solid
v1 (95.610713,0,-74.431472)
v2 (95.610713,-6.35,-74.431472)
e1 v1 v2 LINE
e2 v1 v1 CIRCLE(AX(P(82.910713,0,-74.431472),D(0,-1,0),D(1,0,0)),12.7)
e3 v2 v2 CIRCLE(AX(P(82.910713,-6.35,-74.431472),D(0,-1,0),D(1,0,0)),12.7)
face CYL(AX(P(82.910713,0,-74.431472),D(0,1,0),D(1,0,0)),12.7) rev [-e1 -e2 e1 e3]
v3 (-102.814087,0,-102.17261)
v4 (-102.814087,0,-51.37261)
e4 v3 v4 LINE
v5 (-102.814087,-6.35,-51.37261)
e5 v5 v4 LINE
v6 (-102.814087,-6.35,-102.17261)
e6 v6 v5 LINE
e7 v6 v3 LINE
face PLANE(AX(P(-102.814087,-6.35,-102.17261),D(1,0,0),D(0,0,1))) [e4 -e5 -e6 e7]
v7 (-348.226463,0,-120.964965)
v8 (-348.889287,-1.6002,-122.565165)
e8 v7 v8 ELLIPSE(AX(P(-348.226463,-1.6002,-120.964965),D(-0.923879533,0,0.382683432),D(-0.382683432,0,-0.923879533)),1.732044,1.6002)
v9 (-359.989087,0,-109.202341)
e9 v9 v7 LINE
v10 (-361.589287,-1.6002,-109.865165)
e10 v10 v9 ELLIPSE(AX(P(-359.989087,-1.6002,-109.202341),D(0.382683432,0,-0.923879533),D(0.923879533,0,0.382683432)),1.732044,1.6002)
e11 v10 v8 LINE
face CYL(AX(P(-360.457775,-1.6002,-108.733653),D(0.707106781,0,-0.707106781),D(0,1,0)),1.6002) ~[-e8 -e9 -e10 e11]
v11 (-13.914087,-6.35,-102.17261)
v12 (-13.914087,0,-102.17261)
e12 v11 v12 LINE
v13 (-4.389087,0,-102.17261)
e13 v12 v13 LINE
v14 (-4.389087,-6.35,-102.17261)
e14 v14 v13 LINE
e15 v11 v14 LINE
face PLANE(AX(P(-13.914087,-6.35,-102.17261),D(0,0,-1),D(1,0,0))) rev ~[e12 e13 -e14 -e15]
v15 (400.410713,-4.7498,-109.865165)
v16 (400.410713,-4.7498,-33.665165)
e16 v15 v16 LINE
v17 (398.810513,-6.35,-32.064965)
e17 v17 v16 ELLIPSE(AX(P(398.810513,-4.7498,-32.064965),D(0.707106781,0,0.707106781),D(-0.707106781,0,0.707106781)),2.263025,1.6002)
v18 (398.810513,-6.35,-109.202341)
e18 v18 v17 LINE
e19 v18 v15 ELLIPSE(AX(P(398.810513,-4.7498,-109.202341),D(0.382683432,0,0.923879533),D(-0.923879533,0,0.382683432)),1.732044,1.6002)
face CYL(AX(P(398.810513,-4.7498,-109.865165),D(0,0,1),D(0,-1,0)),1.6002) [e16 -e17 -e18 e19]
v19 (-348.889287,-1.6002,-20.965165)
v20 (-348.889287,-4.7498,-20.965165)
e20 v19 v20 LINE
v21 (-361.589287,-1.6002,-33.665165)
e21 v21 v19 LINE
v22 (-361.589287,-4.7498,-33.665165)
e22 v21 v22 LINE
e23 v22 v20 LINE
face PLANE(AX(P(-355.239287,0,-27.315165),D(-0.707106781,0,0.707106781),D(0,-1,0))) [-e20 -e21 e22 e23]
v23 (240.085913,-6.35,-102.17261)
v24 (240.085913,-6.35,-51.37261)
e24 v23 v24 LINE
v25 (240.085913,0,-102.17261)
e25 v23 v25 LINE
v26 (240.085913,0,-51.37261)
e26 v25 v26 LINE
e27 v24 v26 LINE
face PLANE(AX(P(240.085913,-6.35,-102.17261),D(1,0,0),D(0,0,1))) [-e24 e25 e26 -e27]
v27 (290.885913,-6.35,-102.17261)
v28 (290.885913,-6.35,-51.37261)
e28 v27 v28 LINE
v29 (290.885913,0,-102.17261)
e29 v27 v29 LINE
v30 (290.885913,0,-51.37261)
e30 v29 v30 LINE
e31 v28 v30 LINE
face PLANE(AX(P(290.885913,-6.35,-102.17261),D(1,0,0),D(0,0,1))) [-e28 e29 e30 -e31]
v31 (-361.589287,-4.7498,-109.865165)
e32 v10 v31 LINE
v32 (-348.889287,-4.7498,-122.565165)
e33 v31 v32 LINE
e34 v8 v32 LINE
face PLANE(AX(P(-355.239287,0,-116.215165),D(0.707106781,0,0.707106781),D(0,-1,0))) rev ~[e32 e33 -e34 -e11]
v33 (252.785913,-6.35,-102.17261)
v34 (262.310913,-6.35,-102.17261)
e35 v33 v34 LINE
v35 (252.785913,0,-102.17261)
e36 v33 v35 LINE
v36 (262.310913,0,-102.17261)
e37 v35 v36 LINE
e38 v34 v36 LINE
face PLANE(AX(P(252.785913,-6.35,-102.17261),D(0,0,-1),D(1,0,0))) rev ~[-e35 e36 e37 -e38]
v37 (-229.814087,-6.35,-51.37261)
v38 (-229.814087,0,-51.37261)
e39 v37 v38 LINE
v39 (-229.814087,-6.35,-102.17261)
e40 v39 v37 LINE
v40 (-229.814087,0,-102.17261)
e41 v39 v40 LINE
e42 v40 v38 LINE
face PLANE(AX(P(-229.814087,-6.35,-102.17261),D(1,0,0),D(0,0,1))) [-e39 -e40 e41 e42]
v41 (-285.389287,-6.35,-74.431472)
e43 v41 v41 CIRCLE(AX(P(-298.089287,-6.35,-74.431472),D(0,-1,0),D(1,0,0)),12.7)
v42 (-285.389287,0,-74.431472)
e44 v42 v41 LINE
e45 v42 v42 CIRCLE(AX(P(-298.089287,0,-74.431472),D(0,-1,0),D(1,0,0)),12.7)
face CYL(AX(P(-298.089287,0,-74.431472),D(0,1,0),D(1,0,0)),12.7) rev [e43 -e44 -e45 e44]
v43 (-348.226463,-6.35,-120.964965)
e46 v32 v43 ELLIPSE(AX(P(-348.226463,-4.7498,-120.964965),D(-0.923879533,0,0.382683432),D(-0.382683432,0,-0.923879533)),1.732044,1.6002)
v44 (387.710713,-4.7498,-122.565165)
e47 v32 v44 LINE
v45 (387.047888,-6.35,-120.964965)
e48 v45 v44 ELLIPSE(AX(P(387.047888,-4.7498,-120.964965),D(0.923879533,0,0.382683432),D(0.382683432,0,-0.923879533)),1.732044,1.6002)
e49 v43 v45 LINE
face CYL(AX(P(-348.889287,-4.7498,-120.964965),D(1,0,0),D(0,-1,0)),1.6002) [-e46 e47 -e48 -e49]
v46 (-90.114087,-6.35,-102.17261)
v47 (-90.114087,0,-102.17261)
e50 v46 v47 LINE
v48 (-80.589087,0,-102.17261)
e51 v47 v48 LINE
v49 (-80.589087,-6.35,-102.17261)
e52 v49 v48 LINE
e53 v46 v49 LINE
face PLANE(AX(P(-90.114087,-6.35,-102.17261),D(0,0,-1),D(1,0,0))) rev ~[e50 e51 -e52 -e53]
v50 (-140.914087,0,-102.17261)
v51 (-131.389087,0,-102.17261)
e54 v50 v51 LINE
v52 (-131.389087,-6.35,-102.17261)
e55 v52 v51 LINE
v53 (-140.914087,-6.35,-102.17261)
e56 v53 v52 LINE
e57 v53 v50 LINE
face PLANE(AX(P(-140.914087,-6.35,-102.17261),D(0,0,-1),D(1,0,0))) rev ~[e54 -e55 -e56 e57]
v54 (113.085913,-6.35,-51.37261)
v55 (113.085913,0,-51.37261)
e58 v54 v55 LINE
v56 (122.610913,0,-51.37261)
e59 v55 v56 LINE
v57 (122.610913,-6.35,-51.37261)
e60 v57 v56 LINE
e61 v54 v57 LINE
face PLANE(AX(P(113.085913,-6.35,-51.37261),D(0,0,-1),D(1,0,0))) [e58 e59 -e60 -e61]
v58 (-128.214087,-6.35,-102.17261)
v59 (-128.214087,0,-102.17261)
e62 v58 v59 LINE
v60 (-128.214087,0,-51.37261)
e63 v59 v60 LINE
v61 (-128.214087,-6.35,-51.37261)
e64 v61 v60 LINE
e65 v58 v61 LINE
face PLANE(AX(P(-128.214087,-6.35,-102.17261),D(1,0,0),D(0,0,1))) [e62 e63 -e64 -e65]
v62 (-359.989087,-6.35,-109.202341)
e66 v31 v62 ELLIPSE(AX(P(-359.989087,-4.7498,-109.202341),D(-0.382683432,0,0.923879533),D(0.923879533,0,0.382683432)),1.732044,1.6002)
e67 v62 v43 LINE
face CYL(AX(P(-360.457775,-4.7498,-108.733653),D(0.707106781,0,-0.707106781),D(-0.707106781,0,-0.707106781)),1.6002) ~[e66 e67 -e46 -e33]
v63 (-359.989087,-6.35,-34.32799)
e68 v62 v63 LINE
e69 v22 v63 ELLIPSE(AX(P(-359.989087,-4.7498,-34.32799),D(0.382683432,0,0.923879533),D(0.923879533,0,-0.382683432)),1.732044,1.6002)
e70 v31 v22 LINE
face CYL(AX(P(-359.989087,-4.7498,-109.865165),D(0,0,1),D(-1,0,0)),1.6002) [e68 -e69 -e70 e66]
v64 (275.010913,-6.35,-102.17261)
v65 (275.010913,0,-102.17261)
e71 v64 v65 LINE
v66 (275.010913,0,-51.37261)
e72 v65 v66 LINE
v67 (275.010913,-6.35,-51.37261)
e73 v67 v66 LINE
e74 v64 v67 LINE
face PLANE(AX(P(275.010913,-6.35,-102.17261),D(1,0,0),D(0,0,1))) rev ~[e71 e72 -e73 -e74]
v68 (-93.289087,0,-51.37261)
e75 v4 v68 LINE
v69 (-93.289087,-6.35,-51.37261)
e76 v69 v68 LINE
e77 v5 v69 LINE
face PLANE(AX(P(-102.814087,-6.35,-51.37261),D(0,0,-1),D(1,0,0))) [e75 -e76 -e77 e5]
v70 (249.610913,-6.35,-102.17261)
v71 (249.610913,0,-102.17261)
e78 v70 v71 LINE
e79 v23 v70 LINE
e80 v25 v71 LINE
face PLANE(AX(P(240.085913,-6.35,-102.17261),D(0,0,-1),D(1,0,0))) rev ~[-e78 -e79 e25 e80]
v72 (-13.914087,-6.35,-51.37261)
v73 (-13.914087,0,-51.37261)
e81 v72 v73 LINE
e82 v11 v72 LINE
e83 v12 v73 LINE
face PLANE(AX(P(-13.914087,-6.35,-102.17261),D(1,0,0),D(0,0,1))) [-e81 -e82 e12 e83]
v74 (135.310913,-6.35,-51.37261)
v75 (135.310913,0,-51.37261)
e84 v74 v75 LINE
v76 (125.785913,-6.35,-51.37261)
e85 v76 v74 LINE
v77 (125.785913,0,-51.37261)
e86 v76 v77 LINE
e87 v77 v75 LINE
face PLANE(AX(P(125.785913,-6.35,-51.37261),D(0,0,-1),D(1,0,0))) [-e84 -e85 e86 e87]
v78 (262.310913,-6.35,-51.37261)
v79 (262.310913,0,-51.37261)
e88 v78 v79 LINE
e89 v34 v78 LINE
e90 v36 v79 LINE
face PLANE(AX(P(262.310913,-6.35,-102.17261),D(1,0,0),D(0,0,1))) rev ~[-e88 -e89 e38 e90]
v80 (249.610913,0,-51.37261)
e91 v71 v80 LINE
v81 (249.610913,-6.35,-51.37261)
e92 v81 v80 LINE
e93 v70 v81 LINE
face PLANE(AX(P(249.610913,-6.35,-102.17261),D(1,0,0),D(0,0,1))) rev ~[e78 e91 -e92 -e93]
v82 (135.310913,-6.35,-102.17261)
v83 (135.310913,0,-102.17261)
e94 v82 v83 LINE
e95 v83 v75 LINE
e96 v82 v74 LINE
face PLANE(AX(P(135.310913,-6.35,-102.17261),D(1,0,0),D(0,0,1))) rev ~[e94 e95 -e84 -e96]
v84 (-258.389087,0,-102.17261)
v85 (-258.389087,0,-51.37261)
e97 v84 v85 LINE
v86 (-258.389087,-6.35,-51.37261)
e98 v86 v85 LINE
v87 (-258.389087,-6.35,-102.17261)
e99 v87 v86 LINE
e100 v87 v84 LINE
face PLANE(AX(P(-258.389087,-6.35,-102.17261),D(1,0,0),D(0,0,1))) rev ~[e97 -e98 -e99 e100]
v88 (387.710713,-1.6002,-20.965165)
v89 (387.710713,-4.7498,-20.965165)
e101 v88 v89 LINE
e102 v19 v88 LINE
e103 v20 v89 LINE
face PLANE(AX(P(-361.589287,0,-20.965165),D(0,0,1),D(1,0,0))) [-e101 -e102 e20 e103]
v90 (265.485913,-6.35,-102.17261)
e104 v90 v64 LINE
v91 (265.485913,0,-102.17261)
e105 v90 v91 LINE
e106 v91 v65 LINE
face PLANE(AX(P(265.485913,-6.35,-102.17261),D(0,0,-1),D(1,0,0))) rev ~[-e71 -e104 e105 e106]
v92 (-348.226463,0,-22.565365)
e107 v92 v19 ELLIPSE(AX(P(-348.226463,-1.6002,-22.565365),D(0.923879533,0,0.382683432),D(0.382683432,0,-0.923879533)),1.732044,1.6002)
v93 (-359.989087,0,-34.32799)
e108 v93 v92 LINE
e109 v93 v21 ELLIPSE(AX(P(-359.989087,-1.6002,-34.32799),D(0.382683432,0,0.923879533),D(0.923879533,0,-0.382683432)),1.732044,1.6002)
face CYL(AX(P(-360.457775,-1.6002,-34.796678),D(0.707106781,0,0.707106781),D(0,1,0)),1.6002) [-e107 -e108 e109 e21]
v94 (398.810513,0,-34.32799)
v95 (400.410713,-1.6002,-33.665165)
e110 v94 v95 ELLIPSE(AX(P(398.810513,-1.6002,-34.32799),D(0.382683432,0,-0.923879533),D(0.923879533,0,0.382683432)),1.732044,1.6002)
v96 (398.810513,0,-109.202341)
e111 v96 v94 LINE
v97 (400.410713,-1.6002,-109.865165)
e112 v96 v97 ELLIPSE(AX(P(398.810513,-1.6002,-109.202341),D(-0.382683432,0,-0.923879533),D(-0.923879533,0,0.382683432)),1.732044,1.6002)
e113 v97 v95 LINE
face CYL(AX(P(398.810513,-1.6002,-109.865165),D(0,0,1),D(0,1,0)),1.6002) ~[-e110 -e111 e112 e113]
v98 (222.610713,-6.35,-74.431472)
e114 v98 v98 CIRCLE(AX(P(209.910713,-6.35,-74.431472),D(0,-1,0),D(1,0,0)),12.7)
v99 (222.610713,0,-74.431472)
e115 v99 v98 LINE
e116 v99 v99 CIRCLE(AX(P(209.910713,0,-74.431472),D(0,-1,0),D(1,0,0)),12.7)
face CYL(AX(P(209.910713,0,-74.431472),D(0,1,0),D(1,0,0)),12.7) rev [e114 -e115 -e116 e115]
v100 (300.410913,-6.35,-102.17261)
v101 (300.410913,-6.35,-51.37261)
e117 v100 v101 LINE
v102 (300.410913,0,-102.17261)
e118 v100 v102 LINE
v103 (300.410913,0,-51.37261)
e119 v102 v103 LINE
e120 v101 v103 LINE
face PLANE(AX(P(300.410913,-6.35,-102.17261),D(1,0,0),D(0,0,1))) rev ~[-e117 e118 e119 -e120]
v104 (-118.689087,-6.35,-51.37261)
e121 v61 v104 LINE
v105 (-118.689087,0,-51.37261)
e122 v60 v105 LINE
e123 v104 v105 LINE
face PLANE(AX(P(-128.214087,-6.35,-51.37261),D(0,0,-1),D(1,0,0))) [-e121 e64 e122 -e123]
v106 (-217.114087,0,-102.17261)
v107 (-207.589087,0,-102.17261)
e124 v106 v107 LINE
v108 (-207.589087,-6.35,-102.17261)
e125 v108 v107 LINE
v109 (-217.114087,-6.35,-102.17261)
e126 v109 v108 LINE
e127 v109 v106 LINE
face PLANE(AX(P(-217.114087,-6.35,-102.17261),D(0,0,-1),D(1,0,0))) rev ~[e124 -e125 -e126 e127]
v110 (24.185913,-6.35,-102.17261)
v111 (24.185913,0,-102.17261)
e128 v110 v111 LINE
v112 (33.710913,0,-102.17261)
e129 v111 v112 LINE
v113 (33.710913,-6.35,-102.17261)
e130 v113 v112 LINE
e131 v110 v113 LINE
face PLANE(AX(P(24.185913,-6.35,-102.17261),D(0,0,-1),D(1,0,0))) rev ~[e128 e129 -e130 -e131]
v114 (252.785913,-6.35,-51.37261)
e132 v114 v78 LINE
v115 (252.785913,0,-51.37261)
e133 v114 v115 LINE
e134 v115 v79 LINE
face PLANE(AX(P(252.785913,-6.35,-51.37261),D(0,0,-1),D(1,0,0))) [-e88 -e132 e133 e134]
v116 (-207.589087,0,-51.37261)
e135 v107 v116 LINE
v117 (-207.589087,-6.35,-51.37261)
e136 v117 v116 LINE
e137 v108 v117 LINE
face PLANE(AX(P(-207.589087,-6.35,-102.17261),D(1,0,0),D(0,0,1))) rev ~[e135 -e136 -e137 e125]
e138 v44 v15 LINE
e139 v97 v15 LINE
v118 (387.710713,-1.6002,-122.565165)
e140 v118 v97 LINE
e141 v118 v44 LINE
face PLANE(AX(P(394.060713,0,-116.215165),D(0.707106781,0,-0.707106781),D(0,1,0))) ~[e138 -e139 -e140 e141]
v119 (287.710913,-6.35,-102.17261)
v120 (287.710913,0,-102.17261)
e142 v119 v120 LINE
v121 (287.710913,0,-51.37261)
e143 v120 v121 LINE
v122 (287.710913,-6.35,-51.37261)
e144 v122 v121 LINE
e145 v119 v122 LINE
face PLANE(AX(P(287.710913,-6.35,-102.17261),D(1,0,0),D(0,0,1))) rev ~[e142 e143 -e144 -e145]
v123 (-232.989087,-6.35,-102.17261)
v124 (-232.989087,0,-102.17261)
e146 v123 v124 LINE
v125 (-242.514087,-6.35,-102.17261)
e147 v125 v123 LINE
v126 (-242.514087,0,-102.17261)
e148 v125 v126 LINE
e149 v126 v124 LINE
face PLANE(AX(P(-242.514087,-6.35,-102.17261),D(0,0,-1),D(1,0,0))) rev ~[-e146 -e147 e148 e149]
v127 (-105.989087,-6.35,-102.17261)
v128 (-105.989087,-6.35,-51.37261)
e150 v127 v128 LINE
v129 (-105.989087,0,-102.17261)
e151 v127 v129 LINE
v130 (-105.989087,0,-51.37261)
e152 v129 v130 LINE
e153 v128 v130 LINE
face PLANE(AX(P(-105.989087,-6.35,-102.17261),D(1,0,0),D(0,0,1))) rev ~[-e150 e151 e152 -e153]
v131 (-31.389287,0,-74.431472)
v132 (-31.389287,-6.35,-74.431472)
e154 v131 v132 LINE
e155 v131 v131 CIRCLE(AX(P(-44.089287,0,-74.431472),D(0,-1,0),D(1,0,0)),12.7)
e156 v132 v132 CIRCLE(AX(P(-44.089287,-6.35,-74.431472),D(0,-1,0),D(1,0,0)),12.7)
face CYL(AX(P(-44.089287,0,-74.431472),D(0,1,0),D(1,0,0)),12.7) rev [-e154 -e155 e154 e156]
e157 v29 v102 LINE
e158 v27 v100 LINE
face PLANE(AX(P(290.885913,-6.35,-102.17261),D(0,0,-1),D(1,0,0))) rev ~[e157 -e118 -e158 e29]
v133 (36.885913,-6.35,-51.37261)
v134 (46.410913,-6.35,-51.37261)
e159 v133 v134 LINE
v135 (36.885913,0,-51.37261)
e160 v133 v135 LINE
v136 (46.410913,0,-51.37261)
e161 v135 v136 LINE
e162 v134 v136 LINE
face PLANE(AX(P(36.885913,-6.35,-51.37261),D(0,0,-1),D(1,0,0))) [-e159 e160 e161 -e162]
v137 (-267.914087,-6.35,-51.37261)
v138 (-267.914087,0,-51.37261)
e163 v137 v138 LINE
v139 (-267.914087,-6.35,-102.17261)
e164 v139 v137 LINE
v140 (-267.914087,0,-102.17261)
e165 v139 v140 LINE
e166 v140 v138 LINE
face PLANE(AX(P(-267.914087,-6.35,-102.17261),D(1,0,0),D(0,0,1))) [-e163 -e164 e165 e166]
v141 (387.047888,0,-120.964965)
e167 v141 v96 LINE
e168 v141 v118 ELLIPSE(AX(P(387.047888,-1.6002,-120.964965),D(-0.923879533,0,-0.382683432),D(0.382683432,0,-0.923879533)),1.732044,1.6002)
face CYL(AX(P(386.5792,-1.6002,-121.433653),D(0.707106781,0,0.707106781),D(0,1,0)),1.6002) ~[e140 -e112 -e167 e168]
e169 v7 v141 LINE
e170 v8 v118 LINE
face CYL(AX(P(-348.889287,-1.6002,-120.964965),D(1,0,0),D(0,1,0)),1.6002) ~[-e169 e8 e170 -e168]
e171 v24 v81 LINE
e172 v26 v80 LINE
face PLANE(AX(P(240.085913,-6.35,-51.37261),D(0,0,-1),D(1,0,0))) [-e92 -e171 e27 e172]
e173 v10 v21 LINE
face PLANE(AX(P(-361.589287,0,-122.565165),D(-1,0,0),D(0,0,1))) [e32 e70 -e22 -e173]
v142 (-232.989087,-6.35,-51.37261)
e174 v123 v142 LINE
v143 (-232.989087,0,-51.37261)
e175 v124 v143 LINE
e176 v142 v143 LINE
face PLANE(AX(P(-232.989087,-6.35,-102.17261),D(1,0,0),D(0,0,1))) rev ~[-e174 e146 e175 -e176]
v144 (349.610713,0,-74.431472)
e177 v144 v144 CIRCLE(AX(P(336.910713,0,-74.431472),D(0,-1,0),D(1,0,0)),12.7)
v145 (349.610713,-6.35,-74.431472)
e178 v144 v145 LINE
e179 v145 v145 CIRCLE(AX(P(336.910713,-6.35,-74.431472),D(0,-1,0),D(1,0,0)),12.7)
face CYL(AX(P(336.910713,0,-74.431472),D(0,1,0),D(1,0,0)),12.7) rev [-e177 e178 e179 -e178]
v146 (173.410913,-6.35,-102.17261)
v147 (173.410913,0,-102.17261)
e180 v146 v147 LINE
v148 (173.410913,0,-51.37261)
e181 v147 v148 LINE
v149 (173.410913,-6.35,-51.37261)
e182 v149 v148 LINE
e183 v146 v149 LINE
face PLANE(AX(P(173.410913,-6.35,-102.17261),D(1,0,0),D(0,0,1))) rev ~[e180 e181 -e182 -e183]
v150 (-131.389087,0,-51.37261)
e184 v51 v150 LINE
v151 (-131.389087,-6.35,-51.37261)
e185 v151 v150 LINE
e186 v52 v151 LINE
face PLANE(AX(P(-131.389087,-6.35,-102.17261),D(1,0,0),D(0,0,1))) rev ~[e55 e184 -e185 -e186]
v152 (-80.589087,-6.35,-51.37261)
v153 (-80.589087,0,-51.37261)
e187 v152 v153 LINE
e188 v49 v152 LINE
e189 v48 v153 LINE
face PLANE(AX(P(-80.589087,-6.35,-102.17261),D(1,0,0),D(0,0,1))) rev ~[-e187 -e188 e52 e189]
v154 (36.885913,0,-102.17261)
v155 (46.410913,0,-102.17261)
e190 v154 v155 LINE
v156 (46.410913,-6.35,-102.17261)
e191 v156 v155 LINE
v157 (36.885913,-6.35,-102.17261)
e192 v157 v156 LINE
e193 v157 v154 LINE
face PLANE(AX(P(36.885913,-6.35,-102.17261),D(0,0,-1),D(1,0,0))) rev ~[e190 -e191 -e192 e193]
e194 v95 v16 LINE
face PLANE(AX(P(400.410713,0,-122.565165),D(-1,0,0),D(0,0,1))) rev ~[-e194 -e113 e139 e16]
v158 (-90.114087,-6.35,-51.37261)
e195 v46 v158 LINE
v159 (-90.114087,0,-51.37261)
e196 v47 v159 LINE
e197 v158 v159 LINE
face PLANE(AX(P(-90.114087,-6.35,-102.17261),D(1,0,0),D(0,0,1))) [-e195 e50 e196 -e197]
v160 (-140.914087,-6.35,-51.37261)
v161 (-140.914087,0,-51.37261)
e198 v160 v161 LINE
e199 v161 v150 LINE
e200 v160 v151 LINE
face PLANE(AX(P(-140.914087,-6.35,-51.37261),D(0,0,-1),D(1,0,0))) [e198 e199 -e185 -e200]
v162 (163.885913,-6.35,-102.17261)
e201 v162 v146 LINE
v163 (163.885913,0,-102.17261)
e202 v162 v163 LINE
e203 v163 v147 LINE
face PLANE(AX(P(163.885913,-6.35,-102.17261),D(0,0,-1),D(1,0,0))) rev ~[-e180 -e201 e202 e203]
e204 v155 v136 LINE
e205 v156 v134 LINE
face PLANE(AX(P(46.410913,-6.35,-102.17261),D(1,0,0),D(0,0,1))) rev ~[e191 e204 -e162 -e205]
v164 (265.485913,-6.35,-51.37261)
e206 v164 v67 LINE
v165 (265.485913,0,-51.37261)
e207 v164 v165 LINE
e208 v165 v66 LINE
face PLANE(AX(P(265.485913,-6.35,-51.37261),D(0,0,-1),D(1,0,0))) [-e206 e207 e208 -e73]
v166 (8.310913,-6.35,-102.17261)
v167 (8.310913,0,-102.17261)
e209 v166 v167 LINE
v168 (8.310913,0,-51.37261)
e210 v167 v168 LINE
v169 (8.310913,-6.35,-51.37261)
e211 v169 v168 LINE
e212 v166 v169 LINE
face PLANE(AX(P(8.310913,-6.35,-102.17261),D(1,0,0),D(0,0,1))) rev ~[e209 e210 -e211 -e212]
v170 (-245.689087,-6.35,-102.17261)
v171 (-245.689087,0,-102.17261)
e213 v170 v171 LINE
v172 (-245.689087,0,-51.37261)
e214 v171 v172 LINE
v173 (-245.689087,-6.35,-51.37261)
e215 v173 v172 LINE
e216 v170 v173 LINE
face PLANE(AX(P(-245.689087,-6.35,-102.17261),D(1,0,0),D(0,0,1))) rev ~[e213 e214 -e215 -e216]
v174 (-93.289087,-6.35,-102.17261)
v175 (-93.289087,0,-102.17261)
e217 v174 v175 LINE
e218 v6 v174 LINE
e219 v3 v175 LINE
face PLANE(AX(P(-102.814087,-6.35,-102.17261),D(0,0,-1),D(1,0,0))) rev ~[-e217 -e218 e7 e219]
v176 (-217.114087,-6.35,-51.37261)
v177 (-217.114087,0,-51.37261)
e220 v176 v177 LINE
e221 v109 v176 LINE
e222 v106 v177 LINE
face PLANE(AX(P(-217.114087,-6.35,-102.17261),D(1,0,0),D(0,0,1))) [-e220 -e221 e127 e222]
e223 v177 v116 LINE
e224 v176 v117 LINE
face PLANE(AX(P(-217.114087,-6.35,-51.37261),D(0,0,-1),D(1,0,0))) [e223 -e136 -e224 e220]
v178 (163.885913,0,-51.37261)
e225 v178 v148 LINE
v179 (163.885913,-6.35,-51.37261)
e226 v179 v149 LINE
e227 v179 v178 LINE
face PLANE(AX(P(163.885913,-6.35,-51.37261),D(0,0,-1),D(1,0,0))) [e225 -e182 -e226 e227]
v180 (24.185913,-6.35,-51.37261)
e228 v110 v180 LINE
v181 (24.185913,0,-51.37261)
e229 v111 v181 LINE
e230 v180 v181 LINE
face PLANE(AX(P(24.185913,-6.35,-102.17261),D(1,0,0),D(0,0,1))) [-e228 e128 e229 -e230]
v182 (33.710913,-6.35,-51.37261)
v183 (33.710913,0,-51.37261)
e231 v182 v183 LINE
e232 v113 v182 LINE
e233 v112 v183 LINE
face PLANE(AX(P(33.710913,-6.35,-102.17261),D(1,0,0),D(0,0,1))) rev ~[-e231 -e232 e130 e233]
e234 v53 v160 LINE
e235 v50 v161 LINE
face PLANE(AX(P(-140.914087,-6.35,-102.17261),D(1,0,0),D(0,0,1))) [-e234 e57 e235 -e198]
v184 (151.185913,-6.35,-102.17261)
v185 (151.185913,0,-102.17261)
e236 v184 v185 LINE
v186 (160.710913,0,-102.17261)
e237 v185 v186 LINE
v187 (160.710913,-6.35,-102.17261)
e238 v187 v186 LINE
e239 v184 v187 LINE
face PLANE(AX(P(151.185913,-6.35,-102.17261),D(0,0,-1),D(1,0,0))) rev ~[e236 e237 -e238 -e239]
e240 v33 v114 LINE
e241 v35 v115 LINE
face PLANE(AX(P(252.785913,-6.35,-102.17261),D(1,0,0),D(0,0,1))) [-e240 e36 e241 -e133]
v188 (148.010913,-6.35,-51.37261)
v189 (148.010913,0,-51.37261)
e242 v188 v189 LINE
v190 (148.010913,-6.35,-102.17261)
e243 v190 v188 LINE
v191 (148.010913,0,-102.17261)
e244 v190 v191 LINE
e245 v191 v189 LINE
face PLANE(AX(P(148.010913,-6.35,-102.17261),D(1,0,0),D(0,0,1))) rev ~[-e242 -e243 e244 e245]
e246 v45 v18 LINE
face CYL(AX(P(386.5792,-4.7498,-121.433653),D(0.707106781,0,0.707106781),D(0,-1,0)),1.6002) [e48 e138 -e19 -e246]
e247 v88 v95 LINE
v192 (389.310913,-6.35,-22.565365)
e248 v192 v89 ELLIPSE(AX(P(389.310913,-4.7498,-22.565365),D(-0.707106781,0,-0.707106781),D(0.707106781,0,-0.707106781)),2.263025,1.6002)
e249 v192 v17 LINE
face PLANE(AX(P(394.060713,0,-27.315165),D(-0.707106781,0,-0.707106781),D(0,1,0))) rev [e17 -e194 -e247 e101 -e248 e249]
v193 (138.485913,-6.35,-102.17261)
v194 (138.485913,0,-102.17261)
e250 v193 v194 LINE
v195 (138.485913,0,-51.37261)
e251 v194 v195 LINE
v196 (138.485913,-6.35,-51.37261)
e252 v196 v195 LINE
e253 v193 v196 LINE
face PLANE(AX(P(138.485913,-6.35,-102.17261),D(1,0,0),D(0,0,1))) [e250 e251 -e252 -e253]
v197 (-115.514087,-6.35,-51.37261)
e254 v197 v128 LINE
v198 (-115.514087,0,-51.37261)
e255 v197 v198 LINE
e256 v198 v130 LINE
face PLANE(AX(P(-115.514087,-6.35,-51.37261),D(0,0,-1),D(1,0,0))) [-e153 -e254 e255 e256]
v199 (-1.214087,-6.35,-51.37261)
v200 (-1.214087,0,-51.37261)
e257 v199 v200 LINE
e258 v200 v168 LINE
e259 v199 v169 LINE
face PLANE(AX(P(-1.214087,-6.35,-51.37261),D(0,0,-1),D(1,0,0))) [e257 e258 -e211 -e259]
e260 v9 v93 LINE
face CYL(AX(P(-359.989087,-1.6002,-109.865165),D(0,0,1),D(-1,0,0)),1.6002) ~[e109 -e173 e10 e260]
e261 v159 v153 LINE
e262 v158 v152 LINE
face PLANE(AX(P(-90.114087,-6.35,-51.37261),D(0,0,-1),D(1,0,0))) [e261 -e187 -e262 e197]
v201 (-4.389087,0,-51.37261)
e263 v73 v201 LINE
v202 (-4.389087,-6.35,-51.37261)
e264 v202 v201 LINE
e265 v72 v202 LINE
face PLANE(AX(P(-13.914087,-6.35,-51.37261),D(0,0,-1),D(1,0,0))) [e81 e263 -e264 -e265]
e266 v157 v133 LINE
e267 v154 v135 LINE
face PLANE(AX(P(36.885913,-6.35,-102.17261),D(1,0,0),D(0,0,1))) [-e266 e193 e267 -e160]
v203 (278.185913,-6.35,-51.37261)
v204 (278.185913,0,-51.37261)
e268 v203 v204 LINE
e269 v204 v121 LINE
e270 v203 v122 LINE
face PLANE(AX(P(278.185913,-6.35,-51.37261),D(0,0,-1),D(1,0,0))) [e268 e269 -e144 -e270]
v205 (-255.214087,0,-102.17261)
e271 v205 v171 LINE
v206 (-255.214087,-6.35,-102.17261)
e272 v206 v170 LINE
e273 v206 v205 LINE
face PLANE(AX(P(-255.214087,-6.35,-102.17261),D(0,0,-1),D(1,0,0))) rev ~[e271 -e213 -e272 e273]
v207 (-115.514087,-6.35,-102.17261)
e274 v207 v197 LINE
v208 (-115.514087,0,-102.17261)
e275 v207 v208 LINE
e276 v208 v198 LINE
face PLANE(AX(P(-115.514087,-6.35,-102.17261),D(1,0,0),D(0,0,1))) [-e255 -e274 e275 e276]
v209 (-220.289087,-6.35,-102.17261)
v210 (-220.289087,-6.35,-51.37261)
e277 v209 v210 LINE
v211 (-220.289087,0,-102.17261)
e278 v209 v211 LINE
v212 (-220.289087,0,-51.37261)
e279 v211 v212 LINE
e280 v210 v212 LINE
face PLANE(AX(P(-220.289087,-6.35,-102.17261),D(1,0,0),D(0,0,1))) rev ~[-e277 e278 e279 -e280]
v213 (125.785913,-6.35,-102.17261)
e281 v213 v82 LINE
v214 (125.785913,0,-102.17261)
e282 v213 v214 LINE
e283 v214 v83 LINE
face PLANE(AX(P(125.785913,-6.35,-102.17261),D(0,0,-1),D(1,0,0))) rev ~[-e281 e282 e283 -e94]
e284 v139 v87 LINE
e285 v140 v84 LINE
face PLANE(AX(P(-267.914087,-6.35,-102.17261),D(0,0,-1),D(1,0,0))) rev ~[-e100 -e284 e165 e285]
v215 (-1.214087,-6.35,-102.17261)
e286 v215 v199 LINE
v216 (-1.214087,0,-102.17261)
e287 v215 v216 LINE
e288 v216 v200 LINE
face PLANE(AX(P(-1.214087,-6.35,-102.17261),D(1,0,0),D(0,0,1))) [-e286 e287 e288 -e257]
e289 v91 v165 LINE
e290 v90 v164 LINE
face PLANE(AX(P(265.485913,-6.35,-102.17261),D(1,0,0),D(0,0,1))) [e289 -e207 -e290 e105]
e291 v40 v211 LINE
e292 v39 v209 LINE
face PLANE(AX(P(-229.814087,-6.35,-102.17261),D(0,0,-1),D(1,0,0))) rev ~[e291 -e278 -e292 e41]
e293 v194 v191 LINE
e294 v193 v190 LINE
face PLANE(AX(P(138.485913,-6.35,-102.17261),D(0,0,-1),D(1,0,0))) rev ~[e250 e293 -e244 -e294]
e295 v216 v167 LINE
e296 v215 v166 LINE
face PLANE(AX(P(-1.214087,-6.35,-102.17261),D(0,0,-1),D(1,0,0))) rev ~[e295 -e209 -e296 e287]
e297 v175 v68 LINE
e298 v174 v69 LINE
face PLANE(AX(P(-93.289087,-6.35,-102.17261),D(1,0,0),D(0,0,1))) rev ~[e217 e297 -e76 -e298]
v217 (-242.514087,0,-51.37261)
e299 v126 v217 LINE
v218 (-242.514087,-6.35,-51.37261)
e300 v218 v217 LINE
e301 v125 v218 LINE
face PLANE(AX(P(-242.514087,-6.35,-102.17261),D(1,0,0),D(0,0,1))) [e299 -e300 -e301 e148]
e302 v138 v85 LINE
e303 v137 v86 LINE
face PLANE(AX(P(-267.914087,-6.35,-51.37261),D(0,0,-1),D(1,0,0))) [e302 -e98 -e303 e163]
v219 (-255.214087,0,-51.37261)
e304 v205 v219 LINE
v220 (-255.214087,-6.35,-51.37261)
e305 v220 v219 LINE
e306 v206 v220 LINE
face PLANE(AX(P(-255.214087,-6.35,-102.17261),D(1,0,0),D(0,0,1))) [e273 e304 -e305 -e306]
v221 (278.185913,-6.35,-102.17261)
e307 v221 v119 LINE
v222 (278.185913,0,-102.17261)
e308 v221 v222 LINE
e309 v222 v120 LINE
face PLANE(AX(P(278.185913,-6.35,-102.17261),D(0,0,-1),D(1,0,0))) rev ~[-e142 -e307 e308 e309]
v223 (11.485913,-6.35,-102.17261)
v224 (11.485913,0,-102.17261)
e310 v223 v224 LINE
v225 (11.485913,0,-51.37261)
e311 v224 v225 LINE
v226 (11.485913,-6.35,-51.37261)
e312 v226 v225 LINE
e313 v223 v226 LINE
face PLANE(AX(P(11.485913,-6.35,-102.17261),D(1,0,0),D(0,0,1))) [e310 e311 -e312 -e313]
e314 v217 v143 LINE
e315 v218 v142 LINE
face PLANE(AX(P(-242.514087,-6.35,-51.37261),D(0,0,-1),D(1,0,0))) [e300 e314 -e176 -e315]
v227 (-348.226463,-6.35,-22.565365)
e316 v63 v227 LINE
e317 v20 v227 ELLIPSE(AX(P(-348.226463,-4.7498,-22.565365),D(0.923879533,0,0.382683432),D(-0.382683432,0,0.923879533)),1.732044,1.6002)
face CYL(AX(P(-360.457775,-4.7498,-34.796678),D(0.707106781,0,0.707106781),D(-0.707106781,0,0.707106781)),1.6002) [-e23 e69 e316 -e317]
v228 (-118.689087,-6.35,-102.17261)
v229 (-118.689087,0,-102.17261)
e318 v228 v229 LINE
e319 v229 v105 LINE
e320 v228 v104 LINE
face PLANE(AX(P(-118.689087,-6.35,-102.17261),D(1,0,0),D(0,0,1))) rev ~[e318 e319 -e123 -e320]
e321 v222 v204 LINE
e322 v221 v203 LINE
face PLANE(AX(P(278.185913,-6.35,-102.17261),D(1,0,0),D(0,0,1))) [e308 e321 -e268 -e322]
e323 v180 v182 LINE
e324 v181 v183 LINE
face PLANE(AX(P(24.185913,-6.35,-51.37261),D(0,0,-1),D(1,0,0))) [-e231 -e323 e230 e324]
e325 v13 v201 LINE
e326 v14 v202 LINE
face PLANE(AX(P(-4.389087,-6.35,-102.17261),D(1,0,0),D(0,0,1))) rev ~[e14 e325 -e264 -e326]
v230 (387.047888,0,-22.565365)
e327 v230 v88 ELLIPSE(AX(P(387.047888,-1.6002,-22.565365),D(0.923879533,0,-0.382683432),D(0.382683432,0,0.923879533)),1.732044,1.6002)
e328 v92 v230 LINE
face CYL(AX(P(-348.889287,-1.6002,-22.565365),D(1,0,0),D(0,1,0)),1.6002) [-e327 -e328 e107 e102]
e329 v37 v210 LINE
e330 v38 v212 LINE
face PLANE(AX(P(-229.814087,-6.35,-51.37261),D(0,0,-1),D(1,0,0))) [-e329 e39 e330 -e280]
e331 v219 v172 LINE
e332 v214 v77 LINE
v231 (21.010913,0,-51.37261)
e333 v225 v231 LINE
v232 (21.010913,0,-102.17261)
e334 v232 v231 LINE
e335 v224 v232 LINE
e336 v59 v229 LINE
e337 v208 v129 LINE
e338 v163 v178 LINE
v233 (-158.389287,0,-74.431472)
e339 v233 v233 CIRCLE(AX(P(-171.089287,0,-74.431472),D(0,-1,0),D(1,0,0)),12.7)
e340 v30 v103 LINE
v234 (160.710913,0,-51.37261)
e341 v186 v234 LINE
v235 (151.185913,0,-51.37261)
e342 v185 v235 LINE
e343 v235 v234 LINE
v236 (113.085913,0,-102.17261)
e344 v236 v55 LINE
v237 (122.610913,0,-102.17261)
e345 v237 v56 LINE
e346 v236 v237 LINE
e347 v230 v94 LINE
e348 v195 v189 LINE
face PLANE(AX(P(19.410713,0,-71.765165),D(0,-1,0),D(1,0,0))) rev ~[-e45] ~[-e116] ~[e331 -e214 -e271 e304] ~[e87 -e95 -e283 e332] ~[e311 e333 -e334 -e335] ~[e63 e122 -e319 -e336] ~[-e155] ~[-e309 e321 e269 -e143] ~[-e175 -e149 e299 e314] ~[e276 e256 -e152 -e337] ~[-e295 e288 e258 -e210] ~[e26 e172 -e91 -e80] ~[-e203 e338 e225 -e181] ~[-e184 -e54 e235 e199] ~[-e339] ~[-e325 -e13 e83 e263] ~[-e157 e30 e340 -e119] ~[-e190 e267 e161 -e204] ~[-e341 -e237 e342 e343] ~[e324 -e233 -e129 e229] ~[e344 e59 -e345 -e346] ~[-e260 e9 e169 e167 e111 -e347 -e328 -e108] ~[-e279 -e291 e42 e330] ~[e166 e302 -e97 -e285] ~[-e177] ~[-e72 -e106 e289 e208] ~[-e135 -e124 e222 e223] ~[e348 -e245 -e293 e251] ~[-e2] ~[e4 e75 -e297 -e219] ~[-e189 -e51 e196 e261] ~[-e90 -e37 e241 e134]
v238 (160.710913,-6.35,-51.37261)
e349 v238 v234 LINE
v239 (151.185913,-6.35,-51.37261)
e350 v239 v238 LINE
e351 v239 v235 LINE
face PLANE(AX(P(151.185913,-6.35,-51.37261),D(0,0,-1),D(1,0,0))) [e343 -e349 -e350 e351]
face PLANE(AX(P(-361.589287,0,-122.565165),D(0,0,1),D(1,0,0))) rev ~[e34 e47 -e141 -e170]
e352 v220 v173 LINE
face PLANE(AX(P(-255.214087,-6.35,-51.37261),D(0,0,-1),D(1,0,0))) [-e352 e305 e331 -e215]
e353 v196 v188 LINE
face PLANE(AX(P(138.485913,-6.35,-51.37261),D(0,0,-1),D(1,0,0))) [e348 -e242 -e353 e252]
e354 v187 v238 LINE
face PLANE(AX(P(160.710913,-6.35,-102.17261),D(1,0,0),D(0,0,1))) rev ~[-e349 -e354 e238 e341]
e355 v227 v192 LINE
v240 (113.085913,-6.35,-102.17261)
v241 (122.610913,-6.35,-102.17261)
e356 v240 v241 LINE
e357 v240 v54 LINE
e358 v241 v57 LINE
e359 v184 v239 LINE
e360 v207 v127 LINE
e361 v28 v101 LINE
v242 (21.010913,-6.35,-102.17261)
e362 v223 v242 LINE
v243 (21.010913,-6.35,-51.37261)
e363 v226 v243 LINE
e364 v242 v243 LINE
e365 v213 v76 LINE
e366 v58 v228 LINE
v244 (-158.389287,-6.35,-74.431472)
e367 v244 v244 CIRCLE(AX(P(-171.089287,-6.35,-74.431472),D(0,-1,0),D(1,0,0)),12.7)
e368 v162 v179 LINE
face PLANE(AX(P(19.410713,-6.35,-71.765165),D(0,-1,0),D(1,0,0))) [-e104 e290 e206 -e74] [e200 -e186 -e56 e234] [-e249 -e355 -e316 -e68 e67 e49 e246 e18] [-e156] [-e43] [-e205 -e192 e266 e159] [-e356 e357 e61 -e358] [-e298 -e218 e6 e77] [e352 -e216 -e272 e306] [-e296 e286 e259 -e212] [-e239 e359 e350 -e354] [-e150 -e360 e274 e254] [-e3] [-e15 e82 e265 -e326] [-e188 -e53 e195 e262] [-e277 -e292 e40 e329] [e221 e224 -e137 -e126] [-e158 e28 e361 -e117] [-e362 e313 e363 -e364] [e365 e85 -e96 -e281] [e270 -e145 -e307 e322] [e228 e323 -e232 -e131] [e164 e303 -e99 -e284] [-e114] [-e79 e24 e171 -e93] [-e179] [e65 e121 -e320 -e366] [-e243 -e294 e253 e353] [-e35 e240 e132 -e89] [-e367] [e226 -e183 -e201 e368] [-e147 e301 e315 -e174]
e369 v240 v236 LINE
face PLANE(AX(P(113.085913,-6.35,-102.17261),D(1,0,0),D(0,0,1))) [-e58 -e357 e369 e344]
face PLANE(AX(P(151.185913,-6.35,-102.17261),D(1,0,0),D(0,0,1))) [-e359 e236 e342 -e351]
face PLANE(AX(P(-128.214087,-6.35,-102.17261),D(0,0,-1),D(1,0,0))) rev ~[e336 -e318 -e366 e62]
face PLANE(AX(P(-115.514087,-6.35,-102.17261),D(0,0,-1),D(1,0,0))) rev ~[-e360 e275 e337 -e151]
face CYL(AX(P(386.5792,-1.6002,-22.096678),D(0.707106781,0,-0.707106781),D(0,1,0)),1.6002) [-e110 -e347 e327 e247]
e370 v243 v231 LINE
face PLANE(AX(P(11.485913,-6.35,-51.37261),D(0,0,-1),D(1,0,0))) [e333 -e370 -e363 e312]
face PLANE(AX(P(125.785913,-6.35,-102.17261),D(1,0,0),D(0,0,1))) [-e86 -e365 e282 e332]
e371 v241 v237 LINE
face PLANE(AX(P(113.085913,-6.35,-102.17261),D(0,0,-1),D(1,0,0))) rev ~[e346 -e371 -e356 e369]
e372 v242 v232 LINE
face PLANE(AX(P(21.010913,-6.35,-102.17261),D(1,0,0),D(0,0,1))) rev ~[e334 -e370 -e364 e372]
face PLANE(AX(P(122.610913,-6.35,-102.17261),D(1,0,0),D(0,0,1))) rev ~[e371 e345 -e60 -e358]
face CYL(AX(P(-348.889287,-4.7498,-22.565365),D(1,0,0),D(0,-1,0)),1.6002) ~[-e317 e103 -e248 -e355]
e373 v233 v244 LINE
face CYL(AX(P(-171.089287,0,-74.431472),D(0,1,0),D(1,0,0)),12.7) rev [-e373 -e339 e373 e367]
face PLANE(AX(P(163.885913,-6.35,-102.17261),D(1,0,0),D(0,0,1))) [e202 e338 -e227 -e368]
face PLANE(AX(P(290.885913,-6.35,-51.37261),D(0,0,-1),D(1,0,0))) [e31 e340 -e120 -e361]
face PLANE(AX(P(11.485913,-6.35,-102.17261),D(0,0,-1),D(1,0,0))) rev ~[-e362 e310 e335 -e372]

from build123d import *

# Parameters (mm, degrees)
F0_W     = 762
F0_H     = 101.6
F0_R     = 12.7
F1_DEPTH = 6.35
F2_W     = 9.525
F2_H     = 50.8
F3_DEPTH = 6.351
F4_SIZE  = 12.7
F5_R     = 1.6002


with BuildPart() as f1:
    # F0 (on Front) → F1 (new body)
    with BuildSketch(Plane.XZ):
        with Locations((19.4107126445, -71.7651652404)):
            Rectangle(F0_W, F0_H)
        with Locations((-298.0892873555, -74.4314715266)):
            Circle(F0_R, mode=Mode.SUBTRACT)
        with Locations((-171.0892873555, -74.4314715266)):
            Circle(F0_R, mode=Mode.SUBTRACT)
        with Locations((-44.0892873555, -74.4314715266)):
            Circle(F0_R, mode=Mode.SUBTRACT)
        with Locations((82.9107126445, -74.4314715266)):
            Circle(F0_R, mode=Mode.SUBTRACT)
        with Locations((209.9107126445, -74.4314715266)):
            Circle(F0_R, mode=Mode.SUBTRACT)
        with Locations((336.9107126445, -74.4314715266)):
            Circle(F0_R, mode=Mode.SUBTRACT)
    extrude(amount=F1_DEPTH)

    # F2 (on face) → F3 (cut, through all)
    with BuildSketch(Plane.XZ.offset(6.35)):
        with Locations((-263.1515873555, -76.7726096685)):
            Rectangle(F2_W, F2_H)
        with Locations((-250.4515873555, -76.7726096685)):
            Rectangle(F2_W, F2_H)
        with Locations((-237.7515873555, -76.7726096685)):
            Rectangle(F2_W, F2_H)
        with Locations((-225.0515873555, -76.7726096685)):
            Rectangle(F2_W, F2_H)
        with Locations((-212.3515873555, -76.7726096685)):
            Rectangle(F2_W, F2_H)
        with Locations((-136.1515873555, -76.7726096685)):
            Rectangle(F2_W, F2_H)
        with Locations((-123.4515873555, -76.7726096685)):
            Rectangle(F2_W, F2_H)
        with Locations((-110.7515873555, -76.7726096685)):
            Rectangle(F2_W, F2_H)
        with Locations((-98.0515873555, -76.7726096685)):
            Rectangle(F2_W, F2_H)
        with Locations((-85.3515873555, -76.7726096685)):
            Rectangle(F2_W, F2_H)
        with Locations((-9.1515873555, -76.7726096685)):
            Rectangle(F2_W, F2_H)
        with Locations((3.5484126445, -76.7726096685)):
            Rectangle(F2_W, F2_H)
        with Locations((16.2484126445, -76.7726096685)):
            Rectangle(F2_W, F2_H)
        with Locations((28.9484126445, -76.7726096685)):
            Rectangle(F2_W, F2_H)
        with Locations((41.6484126445, -76.7726096685)):
            Rectangle(F2_W, F2_H)
        with Locations((117.8484126445, -76.7726096685)):
            Rectangle(F2_W, F2_H)
        with Locations((130.5484126445, -76.7726096685)):
            Rectangle(F2_W, F2_H)
        with Locations((143.2484126445, -76.7726096685)):
            Rectangle(F2_W, F2_H)
        with Locations((155.9484126445, -76.7726096685)):
            Rectangle(F2_W, F2_H)
        with Locations((168.6484126445, -76.7726096685)):
            Rectangle(F2_W, F2_H)
        with Locations((244.8484126445, -76.7726096685)):
            Rectangle(F2_W, F2_H)
        with Locations((257.5484126445, -76.7726096685)):
            Rectangle(F2_W, F2_H)
        with Locations((270.2484126445, -76.7726096685)):
            Rectangle(F2_W, F2_H)
        with Locations((282.9484126445, -76.7726096685)):
            Rectangle(F2_W, F2_H)
        with Locations((295.6484126445, -76.7726096685)):
            Rectangle(F2_W, F2_H)
    extrude(amount=-F3_DEPTH, mode=Mode.SUBTRACT)

    # F4
    f4_edges = [f1.edges().sort_by_distance(p)[0] for p in [
        (-361.589287, -3.175, -20.965165),
        (-361.589287, -3.175, -122.565165),
        (400.410713, -3.175, -20.965165),
        (400.410713, -3.175, -122.565165),
    ]]
    chamfer(f4_edges, length=F4_SIZE)

    # F5
    f5_edges = [f1.edges().sort_by_distance(p)[0] for p in [
        (-355.239287, -6.35, -27.315165),
        (19.410713, -6.35, -20.965165),
        (19.410713, 0, -20.965165),
        (-355.239287, 0, -27.315165),
        (-361.589287, 0, -71.765165),
        (-361.589287, -6.35, -71.765165),
        (-355.239287, 0, -116.215165),
        (-355.239287, -6.35, -116.215165),
        (19.410713, 0, -122.565165),
        (19.410713, -6.35, -122.565165),
        (394.060713, 0, -27.315165),
        (400.410713, -6.35, -71.765165),
        (400.410713, 0, -71.765165),
        (394.060713, 0, -116.215165),
        (394.060713, -6.35, -116.215165),
    ]]
    fillet(f5_edges, radius=F5_R)


solid = f1.part
